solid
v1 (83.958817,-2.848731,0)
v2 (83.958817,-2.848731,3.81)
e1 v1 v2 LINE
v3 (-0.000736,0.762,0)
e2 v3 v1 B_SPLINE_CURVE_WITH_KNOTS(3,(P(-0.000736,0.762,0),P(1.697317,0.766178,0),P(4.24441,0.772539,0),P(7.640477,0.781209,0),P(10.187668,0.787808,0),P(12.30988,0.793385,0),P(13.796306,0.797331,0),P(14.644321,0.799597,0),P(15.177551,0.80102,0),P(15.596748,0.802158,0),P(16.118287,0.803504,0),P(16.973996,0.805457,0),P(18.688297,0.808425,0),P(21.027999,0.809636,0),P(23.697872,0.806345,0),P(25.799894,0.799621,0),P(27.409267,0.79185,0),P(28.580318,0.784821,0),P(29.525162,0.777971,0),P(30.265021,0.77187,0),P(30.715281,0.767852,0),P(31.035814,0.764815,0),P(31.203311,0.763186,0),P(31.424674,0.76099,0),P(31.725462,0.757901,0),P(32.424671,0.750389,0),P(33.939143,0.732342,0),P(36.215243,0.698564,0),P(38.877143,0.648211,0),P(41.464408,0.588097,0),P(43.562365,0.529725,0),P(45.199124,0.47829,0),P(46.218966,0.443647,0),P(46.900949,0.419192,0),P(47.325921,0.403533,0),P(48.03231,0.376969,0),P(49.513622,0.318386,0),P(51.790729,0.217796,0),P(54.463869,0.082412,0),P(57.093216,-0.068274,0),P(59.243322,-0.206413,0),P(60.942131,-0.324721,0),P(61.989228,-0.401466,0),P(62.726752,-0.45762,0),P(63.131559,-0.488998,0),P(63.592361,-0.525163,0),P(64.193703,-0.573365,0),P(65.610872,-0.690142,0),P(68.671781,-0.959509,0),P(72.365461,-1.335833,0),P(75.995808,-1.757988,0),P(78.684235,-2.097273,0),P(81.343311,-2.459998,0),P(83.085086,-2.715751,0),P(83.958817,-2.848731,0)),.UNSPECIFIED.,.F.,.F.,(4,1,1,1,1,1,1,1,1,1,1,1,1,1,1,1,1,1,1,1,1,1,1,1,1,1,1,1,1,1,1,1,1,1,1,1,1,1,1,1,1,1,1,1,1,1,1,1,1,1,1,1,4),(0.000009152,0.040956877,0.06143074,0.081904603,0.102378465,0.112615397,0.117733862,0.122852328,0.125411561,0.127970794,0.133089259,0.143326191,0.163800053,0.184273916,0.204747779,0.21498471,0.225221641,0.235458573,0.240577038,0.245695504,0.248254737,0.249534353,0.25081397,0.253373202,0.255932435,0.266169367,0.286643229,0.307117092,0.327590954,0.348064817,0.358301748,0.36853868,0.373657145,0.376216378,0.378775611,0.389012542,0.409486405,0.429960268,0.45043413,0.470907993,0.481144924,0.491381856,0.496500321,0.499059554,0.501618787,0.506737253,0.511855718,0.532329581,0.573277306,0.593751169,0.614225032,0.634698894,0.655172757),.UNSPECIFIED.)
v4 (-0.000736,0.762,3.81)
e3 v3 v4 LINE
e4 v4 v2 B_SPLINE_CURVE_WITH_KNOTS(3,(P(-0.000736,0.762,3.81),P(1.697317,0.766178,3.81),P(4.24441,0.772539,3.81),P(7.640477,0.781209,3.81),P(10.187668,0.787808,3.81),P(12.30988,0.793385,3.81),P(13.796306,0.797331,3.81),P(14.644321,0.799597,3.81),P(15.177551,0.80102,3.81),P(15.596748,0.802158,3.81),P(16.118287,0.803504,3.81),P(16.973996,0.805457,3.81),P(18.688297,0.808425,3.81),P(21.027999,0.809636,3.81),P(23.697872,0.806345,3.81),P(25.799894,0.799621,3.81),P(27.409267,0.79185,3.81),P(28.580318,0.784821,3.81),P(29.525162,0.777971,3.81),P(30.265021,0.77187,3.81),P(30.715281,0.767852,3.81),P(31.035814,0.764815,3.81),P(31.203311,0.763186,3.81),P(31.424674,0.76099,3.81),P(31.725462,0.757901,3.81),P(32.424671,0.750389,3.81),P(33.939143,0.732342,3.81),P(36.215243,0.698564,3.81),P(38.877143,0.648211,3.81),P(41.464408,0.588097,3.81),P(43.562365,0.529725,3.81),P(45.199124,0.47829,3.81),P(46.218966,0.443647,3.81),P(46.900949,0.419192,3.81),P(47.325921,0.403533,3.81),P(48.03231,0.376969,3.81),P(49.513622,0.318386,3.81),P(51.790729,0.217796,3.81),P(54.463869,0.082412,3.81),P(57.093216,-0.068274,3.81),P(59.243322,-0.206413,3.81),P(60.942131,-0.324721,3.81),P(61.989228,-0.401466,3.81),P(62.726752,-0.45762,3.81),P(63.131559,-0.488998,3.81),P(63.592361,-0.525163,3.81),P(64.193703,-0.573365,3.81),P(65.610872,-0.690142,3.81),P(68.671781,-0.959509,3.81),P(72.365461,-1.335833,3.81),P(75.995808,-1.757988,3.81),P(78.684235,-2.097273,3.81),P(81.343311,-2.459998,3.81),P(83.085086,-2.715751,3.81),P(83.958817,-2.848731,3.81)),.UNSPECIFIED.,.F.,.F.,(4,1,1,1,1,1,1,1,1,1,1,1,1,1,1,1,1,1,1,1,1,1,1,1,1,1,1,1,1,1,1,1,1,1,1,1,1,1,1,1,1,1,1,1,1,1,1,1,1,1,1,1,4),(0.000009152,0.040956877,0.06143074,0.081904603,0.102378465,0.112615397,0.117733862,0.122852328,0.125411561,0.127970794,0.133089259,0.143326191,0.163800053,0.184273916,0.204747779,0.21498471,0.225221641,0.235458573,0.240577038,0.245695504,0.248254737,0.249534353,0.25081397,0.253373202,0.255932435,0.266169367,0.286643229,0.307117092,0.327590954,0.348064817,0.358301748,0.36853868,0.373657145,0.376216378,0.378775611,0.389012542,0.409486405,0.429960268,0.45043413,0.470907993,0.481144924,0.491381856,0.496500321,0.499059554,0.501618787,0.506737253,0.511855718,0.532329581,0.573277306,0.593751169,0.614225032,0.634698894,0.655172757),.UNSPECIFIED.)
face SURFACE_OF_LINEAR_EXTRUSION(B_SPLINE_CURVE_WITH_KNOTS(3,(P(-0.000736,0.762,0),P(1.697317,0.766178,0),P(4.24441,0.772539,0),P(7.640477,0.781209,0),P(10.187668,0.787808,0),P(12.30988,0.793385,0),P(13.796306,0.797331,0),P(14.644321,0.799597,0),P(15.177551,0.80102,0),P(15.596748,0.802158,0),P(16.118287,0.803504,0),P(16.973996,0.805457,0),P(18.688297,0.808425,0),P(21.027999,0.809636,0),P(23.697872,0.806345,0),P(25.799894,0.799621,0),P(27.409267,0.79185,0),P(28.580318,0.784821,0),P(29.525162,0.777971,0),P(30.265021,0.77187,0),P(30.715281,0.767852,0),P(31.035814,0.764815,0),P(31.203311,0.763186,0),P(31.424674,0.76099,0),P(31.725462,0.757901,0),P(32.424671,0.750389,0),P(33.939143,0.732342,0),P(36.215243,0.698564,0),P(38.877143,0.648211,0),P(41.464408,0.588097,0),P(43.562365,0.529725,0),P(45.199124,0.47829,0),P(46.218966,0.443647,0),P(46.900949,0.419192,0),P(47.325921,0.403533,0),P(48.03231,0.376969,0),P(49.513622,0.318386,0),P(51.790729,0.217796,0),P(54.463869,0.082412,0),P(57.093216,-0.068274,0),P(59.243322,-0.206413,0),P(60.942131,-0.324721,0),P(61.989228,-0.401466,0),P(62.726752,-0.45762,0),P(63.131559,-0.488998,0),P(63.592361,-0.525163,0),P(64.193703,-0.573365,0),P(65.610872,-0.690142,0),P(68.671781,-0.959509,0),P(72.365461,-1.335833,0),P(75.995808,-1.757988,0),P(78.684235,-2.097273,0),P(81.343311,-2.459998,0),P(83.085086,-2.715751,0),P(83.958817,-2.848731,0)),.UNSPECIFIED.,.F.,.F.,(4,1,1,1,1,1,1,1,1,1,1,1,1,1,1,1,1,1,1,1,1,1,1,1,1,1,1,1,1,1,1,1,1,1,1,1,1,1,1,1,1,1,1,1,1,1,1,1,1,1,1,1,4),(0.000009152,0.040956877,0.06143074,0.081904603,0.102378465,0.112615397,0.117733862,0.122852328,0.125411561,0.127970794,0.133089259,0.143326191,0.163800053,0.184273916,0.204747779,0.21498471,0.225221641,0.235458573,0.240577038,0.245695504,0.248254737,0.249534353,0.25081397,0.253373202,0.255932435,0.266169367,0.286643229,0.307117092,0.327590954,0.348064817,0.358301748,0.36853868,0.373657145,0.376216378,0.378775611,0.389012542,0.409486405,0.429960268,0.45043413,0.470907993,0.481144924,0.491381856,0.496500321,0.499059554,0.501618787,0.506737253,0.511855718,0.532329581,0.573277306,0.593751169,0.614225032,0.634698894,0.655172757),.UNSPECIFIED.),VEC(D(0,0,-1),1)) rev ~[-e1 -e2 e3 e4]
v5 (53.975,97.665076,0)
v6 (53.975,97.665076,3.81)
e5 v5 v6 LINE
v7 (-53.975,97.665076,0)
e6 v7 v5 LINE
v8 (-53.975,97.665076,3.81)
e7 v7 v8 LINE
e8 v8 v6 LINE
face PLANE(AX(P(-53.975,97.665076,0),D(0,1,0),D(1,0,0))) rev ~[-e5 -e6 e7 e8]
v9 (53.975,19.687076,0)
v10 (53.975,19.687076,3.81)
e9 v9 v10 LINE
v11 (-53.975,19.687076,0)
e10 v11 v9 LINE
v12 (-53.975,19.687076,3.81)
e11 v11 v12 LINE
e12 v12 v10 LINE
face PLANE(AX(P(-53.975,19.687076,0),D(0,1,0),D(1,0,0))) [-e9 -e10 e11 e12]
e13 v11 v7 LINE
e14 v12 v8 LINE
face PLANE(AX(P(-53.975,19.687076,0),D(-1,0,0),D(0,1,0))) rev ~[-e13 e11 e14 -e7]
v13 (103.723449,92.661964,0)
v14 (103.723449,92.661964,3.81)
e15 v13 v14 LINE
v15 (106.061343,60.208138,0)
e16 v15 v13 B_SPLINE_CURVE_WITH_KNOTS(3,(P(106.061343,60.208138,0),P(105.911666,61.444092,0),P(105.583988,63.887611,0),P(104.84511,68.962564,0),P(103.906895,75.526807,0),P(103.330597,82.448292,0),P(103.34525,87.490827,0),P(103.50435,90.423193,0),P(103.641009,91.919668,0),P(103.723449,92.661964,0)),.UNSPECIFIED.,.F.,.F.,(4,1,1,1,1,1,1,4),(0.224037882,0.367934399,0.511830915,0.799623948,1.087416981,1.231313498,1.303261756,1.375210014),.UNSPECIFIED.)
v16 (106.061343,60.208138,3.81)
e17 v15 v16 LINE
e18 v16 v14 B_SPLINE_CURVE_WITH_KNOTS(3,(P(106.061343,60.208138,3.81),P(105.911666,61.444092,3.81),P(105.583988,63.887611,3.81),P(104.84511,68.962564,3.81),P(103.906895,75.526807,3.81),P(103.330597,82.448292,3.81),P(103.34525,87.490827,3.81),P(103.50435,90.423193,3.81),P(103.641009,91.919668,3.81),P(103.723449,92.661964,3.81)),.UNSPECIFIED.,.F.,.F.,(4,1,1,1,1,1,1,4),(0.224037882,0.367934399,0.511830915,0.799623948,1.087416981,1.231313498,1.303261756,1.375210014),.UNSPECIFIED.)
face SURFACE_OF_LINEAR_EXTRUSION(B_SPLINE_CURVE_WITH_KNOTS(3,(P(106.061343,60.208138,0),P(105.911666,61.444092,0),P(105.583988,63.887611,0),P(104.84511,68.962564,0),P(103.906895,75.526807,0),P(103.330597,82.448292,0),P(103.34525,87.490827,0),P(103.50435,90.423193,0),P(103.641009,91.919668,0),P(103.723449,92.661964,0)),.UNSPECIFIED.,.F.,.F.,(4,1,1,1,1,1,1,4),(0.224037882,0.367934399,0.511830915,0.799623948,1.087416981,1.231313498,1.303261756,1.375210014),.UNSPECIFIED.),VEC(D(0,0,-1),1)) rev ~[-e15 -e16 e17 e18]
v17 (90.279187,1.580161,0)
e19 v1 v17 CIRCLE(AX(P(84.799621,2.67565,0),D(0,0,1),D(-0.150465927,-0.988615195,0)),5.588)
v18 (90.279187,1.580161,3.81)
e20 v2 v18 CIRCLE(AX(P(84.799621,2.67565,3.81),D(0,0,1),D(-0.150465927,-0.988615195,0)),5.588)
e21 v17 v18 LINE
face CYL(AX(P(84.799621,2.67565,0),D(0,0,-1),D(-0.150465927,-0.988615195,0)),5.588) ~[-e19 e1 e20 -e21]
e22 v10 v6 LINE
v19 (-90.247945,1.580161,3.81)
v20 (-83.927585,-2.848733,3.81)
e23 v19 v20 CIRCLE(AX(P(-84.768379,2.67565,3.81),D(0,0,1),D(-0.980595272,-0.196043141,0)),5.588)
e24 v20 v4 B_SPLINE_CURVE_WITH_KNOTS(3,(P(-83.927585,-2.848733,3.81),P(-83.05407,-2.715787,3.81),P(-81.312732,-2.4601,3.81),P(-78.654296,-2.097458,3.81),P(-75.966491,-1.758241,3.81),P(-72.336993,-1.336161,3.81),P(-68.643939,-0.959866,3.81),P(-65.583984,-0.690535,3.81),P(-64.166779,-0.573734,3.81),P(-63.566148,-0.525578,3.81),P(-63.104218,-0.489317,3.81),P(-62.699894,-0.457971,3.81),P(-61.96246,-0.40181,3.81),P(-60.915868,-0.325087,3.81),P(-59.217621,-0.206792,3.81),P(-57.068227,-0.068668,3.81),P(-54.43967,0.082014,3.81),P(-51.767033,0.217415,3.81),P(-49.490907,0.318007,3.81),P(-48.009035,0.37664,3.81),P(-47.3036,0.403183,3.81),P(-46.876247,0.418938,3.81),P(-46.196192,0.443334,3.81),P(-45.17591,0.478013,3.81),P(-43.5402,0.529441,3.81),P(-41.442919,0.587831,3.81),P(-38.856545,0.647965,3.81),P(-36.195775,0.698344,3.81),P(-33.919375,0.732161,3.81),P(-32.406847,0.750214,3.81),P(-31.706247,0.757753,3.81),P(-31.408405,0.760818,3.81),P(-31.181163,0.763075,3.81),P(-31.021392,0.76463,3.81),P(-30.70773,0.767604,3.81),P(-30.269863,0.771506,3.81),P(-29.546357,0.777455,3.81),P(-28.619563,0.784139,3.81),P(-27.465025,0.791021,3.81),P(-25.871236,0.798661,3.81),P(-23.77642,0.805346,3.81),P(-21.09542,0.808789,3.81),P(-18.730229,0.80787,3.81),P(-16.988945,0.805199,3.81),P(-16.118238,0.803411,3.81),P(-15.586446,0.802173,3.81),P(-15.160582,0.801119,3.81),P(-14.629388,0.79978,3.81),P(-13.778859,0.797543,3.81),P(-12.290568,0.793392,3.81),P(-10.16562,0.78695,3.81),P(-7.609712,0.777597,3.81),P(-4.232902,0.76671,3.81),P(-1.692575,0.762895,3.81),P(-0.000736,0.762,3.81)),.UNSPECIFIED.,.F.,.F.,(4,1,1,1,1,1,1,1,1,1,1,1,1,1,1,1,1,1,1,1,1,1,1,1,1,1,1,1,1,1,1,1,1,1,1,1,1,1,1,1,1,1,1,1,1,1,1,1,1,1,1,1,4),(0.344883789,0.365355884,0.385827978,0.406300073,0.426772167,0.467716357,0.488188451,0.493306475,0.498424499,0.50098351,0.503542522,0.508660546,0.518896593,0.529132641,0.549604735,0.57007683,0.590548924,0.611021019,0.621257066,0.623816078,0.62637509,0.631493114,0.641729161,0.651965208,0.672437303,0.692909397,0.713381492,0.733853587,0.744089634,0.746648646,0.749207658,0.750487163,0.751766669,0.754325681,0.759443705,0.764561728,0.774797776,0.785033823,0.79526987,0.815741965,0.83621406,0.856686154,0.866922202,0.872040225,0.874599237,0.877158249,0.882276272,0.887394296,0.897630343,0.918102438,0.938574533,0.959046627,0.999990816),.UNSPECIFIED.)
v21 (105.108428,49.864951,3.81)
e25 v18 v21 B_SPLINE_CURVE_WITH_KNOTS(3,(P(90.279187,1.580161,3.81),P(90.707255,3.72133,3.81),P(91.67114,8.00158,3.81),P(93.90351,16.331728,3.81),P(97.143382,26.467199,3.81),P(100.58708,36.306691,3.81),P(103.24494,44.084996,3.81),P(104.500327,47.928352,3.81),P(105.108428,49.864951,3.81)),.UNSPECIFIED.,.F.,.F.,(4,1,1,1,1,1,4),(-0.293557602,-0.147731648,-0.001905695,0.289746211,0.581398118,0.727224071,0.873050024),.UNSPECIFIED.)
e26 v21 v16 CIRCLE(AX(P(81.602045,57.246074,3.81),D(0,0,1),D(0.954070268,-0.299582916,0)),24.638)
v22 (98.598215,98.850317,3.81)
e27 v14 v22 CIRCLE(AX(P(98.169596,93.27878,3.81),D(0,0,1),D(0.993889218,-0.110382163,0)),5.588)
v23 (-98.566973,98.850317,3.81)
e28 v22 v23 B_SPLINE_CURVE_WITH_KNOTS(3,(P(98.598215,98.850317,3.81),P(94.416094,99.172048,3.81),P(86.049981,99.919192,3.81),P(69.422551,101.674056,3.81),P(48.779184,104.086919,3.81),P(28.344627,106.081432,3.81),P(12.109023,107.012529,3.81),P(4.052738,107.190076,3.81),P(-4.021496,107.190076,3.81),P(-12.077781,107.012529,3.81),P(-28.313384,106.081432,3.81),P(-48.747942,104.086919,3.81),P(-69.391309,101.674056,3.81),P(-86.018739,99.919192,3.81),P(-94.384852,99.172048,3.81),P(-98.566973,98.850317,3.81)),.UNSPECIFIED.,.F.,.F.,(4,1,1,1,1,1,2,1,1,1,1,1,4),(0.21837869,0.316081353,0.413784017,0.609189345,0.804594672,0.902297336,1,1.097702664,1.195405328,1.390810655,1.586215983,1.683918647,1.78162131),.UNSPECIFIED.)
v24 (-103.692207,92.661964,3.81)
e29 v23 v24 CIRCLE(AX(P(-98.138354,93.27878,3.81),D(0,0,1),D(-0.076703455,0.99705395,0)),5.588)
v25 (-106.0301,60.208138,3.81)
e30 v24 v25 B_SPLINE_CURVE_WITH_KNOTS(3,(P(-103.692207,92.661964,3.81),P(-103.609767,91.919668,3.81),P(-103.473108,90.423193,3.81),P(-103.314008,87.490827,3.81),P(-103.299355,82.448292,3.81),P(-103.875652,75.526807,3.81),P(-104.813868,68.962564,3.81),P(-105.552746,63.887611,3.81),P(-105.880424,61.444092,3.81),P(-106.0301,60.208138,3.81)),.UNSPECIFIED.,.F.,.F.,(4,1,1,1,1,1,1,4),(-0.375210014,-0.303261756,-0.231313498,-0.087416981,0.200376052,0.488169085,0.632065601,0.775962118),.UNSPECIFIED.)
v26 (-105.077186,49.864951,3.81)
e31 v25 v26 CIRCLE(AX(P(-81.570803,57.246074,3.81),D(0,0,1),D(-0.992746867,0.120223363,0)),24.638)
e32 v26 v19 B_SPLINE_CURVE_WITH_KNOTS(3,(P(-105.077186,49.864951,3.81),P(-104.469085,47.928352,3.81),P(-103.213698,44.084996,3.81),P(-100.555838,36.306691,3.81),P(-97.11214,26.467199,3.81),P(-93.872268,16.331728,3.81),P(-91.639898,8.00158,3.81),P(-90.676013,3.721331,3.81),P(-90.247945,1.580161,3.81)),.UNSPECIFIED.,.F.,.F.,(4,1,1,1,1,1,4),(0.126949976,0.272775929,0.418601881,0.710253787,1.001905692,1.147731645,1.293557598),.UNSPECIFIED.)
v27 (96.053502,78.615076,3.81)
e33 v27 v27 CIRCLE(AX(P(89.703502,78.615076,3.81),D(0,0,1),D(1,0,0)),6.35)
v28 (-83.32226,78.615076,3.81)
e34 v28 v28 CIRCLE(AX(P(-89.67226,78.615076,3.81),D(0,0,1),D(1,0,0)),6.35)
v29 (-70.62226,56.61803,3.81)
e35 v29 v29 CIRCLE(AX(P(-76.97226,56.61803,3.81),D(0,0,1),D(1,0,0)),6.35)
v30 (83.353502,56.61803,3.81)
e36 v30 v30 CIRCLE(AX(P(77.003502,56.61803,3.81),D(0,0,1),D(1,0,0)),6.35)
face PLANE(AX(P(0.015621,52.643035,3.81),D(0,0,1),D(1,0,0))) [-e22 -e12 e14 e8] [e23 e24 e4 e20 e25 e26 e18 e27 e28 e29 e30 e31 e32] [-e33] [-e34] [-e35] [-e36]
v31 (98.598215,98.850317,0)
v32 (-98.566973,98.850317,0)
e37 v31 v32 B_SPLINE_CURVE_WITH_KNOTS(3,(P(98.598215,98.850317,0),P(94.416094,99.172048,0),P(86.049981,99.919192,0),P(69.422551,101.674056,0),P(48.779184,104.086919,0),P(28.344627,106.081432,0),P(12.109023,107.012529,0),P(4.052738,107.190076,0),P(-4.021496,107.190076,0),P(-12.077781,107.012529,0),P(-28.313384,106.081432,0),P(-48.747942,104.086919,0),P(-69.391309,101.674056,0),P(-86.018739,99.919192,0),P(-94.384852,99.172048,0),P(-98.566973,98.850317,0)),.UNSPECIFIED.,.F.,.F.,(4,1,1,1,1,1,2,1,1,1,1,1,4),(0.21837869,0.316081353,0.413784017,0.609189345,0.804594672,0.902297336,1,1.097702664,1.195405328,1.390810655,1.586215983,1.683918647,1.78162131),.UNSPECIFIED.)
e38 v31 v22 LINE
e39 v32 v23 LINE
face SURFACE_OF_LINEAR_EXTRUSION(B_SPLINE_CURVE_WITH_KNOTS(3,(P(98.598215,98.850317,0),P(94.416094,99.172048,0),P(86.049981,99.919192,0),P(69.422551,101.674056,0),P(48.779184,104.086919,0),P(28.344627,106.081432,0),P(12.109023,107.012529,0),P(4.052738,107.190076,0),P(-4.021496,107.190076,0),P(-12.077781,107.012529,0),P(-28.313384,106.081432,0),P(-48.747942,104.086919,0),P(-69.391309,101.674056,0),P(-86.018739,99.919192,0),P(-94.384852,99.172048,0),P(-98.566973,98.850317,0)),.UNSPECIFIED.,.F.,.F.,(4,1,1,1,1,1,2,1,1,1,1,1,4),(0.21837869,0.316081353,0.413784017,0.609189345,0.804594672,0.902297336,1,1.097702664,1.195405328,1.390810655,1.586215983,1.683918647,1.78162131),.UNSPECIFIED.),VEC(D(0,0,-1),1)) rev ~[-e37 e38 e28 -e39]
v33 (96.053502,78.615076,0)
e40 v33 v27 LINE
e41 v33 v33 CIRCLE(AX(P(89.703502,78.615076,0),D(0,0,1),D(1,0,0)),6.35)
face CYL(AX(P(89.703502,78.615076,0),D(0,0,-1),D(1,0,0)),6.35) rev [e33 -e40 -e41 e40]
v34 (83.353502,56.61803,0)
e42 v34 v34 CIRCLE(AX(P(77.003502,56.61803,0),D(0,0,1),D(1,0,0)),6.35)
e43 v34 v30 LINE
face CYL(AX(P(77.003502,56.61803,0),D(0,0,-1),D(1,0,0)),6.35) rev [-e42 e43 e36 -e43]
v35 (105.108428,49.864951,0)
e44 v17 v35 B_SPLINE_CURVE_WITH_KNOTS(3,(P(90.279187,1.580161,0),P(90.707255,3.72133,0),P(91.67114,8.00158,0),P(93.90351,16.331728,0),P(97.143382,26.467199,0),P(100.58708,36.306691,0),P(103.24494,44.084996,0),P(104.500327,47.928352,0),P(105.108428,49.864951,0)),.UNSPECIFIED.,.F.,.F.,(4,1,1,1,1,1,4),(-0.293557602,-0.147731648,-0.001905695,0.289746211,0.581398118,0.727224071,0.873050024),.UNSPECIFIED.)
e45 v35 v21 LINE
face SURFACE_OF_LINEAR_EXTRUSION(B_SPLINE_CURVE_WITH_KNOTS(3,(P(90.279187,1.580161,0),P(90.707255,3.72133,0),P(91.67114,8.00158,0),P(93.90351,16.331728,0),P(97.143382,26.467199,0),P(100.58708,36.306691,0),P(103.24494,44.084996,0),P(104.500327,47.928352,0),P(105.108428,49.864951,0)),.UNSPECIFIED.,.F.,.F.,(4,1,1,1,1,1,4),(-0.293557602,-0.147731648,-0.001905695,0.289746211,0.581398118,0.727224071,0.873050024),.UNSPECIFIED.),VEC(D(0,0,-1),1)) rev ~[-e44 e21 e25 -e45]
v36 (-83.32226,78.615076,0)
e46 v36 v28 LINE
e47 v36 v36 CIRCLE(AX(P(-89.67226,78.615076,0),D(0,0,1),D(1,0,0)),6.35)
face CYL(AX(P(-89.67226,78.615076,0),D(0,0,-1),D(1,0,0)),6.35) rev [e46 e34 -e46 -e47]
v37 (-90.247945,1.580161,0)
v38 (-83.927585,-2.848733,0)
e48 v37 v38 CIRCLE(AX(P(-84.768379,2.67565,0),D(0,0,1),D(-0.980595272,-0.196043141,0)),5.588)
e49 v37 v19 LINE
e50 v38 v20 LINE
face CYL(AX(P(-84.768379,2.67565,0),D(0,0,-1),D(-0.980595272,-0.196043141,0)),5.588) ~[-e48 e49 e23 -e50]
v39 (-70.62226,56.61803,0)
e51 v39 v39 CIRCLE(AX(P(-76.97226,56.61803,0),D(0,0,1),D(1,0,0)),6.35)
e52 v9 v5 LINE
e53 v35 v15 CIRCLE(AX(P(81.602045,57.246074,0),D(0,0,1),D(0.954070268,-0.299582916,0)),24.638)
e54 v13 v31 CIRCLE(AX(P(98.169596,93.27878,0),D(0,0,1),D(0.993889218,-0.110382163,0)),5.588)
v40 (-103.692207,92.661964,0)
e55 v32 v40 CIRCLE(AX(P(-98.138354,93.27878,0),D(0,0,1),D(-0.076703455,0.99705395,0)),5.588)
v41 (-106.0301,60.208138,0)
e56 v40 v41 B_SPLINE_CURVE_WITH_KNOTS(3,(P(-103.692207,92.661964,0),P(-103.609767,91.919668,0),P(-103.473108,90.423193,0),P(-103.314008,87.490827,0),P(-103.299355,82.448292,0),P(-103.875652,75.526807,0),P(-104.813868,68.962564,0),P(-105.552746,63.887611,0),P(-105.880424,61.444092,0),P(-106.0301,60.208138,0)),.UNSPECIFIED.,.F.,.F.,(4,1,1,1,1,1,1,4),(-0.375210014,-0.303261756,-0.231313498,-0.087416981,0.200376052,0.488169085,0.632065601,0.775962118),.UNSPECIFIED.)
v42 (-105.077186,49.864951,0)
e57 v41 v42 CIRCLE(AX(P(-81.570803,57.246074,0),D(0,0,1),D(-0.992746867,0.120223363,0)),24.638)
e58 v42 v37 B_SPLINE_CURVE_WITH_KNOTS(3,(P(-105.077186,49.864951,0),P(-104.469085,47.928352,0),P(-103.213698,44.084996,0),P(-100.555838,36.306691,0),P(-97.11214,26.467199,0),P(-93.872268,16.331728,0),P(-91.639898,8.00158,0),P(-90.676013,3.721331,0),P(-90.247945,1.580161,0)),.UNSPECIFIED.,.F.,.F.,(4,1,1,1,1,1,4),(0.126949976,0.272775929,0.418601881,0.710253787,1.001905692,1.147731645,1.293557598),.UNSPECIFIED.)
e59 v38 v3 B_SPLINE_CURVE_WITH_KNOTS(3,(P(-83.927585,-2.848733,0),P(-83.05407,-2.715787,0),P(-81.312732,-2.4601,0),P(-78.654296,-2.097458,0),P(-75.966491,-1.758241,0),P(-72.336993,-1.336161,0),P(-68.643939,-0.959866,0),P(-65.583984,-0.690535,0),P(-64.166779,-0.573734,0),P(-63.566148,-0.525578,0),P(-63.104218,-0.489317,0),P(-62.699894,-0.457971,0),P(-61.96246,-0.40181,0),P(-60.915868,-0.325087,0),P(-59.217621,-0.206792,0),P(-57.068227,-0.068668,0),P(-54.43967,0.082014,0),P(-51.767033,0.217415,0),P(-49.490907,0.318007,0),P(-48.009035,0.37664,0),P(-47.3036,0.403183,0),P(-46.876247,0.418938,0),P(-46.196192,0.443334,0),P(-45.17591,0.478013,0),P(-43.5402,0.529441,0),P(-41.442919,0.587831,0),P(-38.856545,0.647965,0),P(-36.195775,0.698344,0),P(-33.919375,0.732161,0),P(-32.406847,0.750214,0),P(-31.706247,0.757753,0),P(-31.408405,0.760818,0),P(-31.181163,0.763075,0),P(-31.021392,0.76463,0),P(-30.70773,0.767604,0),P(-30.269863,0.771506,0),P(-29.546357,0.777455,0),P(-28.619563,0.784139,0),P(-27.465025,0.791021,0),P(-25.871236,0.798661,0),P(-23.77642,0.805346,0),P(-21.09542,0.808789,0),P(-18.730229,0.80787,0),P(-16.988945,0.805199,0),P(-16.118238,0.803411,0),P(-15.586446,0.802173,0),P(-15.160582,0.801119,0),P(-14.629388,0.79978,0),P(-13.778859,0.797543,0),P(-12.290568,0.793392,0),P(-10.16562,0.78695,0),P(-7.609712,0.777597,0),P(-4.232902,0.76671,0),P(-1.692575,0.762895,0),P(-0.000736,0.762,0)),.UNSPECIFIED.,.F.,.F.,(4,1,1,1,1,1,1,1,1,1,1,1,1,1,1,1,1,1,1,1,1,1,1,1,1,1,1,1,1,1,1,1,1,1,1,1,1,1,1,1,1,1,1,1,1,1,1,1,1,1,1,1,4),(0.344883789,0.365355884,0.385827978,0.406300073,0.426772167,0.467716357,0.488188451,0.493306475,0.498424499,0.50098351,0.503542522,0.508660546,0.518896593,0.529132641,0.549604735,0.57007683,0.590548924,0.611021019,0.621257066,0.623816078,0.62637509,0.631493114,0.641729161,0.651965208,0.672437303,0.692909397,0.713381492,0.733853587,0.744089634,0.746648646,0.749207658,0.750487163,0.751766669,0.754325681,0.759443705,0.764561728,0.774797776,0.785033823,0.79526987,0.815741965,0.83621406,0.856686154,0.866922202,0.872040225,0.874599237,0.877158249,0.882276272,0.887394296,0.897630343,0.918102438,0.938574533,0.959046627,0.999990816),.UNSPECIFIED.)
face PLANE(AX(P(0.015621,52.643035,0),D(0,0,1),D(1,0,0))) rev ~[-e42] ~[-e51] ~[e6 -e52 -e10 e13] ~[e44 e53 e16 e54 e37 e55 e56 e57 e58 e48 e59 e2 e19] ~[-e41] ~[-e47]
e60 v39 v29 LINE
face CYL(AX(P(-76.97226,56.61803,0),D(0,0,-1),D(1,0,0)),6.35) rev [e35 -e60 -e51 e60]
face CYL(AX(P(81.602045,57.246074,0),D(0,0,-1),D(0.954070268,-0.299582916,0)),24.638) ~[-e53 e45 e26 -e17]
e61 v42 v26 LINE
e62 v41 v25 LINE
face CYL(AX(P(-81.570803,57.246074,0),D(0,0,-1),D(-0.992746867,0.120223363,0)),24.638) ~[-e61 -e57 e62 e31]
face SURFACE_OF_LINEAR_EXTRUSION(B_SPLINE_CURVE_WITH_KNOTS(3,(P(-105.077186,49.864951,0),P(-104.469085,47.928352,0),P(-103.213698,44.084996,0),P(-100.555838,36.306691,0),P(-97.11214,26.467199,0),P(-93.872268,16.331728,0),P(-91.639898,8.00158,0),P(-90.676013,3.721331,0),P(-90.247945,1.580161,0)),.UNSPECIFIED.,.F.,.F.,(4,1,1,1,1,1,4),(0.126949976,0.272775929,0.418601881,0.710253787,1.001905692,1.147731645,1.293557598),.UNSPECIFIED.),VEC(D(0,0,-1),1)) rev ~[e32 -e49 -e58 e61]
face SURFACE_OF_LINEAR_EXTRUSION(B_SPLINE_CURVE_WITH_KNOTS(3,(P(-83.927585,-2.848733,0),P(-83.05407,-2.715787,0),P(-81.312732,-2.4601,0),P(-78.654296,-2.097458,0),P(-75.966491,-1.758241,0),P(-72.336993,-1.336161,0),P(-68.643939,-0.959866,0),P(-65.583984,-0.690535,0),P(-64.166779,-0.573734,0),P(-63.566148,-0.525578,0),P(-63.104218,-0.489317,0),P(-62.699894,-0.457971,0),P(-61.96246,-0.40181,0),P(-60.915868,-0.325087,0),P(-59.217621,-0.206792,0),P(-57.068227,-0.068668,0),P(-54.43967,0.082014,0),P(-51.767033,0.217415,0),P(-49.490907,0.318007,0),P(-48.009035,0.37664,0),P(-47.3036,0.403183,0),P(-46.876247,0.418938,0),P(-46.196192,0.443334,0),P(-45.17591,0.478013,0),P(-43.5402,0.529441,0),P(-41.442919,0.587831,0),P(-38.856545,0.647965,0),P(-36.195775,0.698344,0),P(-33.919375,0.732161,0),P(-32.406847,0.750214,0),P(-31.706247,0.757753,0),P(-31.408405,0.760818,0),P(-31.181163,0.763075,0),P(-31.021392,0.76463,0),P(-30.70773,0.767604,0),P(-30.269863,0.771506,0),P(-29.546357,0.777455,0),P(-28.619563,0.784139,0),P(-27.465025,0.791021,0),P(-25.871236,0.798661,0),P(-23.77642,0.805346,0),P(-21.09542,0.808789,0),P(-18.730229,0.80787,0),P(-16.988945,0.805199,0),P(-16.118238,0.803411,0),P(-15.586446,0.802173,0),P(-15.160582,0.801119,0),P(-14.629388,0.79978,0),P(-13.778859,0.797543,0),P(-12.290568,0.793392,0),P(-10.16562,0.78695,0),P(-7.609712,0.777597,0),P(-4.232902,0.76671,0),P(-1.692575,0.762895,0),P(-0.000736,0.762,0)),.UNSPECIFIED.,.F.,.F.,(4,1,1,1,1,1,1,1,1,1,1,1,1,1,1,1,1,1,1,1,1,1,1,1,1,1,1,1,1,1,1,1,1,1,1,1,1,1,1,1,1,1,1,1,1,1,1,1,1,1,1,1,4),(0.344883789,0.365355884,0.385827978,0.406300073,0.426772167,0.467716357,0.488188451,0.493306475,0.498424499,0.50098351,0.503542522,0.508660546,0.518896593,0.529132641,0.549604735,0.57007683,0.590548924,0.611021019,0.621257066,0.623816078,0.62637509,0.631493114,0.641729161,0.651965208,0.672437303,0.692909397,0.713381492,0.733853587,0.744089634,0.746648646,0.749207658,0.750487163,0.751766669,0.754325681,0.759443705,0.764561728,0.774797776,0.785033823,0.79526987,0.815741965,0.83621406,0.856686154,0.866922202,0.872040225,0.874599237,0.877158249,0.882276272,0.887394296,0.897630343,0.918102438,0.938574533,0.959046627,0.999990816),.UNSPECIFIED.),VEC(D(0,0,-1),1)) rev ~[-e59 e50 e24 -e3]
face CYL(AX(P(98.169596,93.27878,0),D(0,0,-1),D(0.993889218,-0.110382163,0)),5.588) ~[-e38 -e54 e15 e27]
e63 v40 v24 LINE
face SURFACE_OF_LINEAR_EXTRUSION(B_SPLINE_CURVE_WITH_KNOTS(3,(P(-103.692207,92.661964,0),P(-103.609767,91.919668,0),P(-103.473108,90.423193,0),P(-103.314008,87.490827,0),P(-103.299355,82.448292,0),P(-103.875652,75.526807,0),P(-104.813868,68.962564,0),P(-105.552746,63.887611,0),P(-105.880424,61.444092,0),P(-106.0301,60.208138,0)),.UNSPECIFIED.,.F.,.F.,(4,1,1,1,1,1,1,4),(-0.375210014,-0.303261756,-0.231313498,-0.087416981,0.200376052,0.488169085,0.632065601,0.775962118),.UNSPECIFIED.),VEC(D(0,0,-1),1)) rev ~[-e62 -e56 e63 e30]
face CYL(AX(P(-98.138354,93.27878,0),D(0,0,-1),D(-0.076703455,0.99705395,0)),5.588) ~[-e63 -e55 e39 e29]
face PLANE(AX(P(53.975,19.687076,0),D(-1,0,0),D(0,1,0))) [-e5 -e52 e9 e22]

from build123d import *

# Parameters (mm, degrees)
SKETCH1_R           = 6.35
SKETCH1_W           = 107.95
SKETCH1_H           = 77.978
BOSS_EXTRUDE1_DEPTH = 3.81


with BuildPart() as part:
    # Sketch1 → Boss-Extrude1 (new body)
    with BuildSketch(Plane.XY):
        with BuildLine():
            ThreePointArc((-90.247945126, 1.580161299), (-87.975141882, -1.900637883), (-83.927585414, -2.848732901))
            add(Edge.make_bspline(
                [(-83.927585414, -2.848732901), (-83.054070471, -2.715786742), (-81.312732205, -2.460099658), (-78.654295906, -2.097457818), (-75.966491195, -1.758240891), (-72.336992818, -1.336160635), (-68.643939449, -0.959865866), (-65.583983691, -0.690535221), (-64.166779255, -0.573734085), (-63.566148315, -0.525577724), (-63.104217983, -0.489316665), (-62.699894104, -0.457970525), (-61.962459601, -0.401810292), (-60.915867879, -0.325087188), (-59.217621249, -0.20679221), (-57.068227268, -0.068668175), (-54.439670256, 0.082013873), (-51.767032951, 0.217415022), (-49.490906759, 0.318006821), (-48.009034739, 0.376639561), (-47.303600356, 0.403182815), (-46.87624745, 0.418937653), (-46.196192411, 0.443333549), (-45.175910497, 0.47801298), (-43.54019985, 0.529440772), (-41.442918551, 0.587830962), (-38.856544752, 0.647964805), (-36.195775126, 0.698343729), (-33.919375463, 0.73216057), (-32.406847373, 0.750213929), (-31.706246722, 0.757752509), (-31.408404648, 0.760817662), (-31.181163199, 0.763075054), (-31.021391801, 0.764629932), (-30.707730066, 0.767603553), (-30.26986268, 0.771505625), (-29.546357408, 0.777455403), (-28.619562792, 0.78413893), (-27.465024779, 0.791021083), (-25.871235622, 0.798660769), (-23.776420321, 0.805345875), (-21.095419523, 0.808788849), (-18.730229007, 0.807870354), (-16.988945077, 0.805198844), (-16.118237596, 0.803410927), (-15.586446283, 0.802172614), (-15.160582097, 0.801119107), (-14.629388092, 0.799779587), (-13.778859371, 0.797542602), (-12.290567631, 0.793391761), (-10.165619586, 0.786950406), (-7.609712384, 0.777596832), (-4.232901772, 0.76670962), (-1.692574695, 0.762894866), (-0.000735939, 0.762000495)],
                knots=[0.344883789, 0.344883789, 0.344883789, 0.344883789, 0.365355884, 0.385827978, 0.406300073, 0.426772167, 0.467716357, 0.488188451, 0.493306475, 0.498424499, 0.50098351, 0.503542522, 0.508660546, 0.518896593, 0.529132641, 0.549604735, 0.57007683, 0.590548924, 0.611021019, 0.621257066, 0.623816078, 0.62637509, 0.631493114, 0.641729161, 0.651965208, 0.672437303, 0.692909397, 0.713381492, 0.733853587, 0.744089634, 0.746648646, 0.749207658, 0.750487163, 0.751766669, 0.754325681, 0.759443705, 0.764561728, 0.774797776, 0.785033823, 0.79526987, 0.815741965, 0.83621406, 0.856686154, 0.866922202, 0.872040225, 0.874599237, 0.877158249, 0.882276272, 0.887394296, 0.897630343, 0.918102438, 0.938574533, 0.959046627, 0.999990816, 0.999990816, 0.999990816, 0.999990816], degree=3))
            add(Edge.make_bspline(
                [(-0.000735939, 0.762000495), (1.697316836, 0.766177734), (4.244409913, 0.77253852), (7.640476943, 0.781209392), (10.187668405, 0.787807526), (12.309879884, 0.793384892), (13.796306461, 0.797330932), (14.644321151, 0.799597123), (15.177550854, 0.80101974), (15.596748301, 0.802157809), (16.118287, 0.803504136), (16.973995966, 0.80545727), (18.68829658, 0.808424504), (21.027999055, 0.809635512), (23.697872289, 0.806345409), (25.799893716, 0.79962074), (27.409267347, 0.791849991), (28.580317931, 0.784820707), (29.525162279, 0.777971464), (30.265021199, 0.771870135), (30.715280941, 0.767851736), (31.035813921, 0.764814821), (31.203310927, 0.763185732), (31.424674383, 0.760990419), (31.725461502, 0.75790149), (32.424670998, 0.75038892), (33.939142843, 0.732342076), (36.215243056, 0.698563653), (38.877142881, 0.648210549), (41.464408025, 0.588096862), (43.562364845, 0.52972496), (45.199123553, 0.478290291), (46.218966314, 0.443646588), (46.900949422, 0.419191941), (47.325920748, 0.403533269), (48.032310107, 0.376969373), (49.513622078, 0.318385817), (51.790729101, 0.217796458), (54.463869347, 0.082412308), (57.093216384, -0.068273652), (59.243322334, -0.206412508), (60.942131401, -0.324720902), (61.989228303, -0.401465522), (62.726751965, -0.457620494), (63.131559362, -0.488998275), (63.592361081, -0.52516306), (64.193703385, -0.573365144), (65.61087209, -0.690141767), (68.671780552, -0.959508913), (72.365460908, -1.33583339), (75.995808252, -1.757987944), (78.68423516, -2.097273121), (81.343310776, -2.459998054), (83.085085672, -2.715750704), (83.958817154, -2.848731481)],
                knots=[9.152e-06, 9.152e-06, 9.152e-06, 9.152e-06, 0.040956877, 0.06143074, 0.081904603, 0.102378465, 0.112615397, 0.117733862, 0.122852328, 0.125411561, 0.127970794, 0.133089259, 0.143326191, 0.163800053, 0.184273916, 0.204747779, 0.21498471, 0.225221641, 0.235458573, 0.240577038, 0.245695504, 0.248254737, 0.249534353, 0.25081397, 0.253373202, 0.255932435, 0.266169367, 0.286643229, 0.307117092, 0.327590954, 0.348064817, 0.358301748, 0.36853868, 0.373657145, 0.376216378, 0.378775611, 0.389012542, 0.409486405, 0.429960268, 0.45043413, 0.470907993, 0.481144924, 0.491381856, 0.496500321, 0.499059554, 0.501618787, 0.506737253, 0.511855718, 0.532329581, 0.573277306, 0.593751169, 0.614225032, 0.634698894, 0.655172757, 0.655172757, 0.655172757, 0.655172757], degree=3))
            ThreePointArc((83.958817154, -2.848731481), (88.006379638, -1.900641004), (90.279187133, 1.58016116))
            add(Edge.make_bspline(
                [(90.279187133, 1.58016116), (90.707255223, 3.721330409), (91.671139987, 8.001579794), (93.903510476, 16.331728227), (97.14338237, 26.467199173), (100.58708015, 36.306691054), (103.244940111, 44.084996329), (104.500326759, 47.928352327), (105.108428455, 49.864950567)],
                knots=[-0.293557602, -0.293557602, -0.293557602, -0.293557602, -0.147731648, -0.001905695, 0.289746211, 0.581398118, 0.727224071, 0.873050024, 0.873050024, 0.873050024, 0.873050024], degree=3))
            ThreePointArc((105.108428455, 49.864950567), (106.136144084, 54.985756874), (106.061342514, 60.208137689))
            add(Edge.make_bspline(
                [(106.061342514, 60.208137689), (105.911666294, 61.444092118), (105.583988035, 63.887611007), (104.845109607, 68.962564326), (103.906894516, 75.52680744), (103.330597064, 82.448292199), (103.345249689, 87.49082735), (103.504349867, 90.423192606), (103.641008775, 91.919668099), (103.72344879, 92.661964135)],
                knots=[0.224037882, 0.224037882, 0.224037882, 0.224037882, 0.367934399, 0.511830915, 0.799623948, 1.087416981, 1.231313498, 1.303261756, 1.375210014, 1.375210014, 1.375210014, 1.375210014], degree=3))
            ThreePointArc((103.72344879, 92.661964135), (102.473247846, 96.843092134), (98.598214744, 98.850317136))
            add(Edge.make_bspline(
                [(98.598214744, 98.850317136), (94.416094473, 99.172048045), (86.049981349, 99.919191974), (69.422551197, 101.674055975), (48.779184165, 104.086919071), (28.344626534, 106.081432238), (12.109022695, 107.012529299), (4.052738444, 107.190075663), (0.015621033, 107.190075663)],
                knots=[0.21837869, 0.21837869, 0.21837869, 0.21837869, 0.316081353, 0.413784017, 0.609189345, 0.804594672, 0.902297336, 1, 1, 1, 1], degree=3))
            add(Edge.make_bspline(
                [(0.015621033, 107.190075663), (-4.021496378, 107.190075663), (-12.077780629, 107.012529299), (-28.313384468, 106.081432237), (-48.747942099, 104.08691907), (-69.39130913, 101.674055973), (-86.018739283, 99.919191972), (-94.384852407, 99.172048042), (-98.566972677, 98.850317134)],
                knots=[0, 0, 0, 0, 0.097702664, 0.195405328, 0.390810655, 0.586215983, 0.683918647, 0.78162131, 0.78162131, 0.78162131, 0.78162131], degree=3))
            ThreePointArc((-98.566972677, 98.850317134), (-102.442005779, 96.843092132), (-103.692206724, 92.661964133))
            add(Edge.make_bspline(
                [(-103.692206724, 92.661964133), (-103.609766709, 91.919668097), (-103.4731078, 90.423192604), (-103.314007622, 87.490827347), (-103.299354998, 82.448292195), (-103.875652451, 75.526807436), (-104.813867543, 68.962564321), (-105.552745972, 63.887611001), (-105.880424231, 61.444092112), (-106.030100451, 60.208137683)],
                knots=[-0.375210014, -0.375210014, -0.375210014, -0.375210014, -0.303261756, -0.231313498, -0.087416981, 0.200376052, 0.488169085, 0.632065601, 0.775962118, 0.775962118, 0.775962118, 0.775962118], degree=3))
            ThreePointArc((-106.030100451, 60.208137683), (-106.104902022, 54.985756873), (-105.077186396, 49.864950571))
            add(Edge.make_bspline(
                [(-105.077186396, 49.864950571), (-104.469084703, 47.928352336), (-103.213698061, 44.084996348), (-100.555838111, 36.306691093), (-97.112140347, 26.467199238), (-93.872268464, 16.33172832), (-91.63989798, 8.001579913), (-90.676013216, 3.721330541), (-90.247945126, 1.580161299)],
                knots=[0.126949976, 0.126949976, 0.126949976, 0.126949976, 0.272775929, 0.418601881, 0.710253787, 1.001905692, 1.147731645, 1.293557598, 1.293557598, 1.293557598, 1.293557598], degree=3))
        make_face()
        with Locations((-89.672260323, 78.615075663)):
            Circle(SKETCH1_R, mode=Mode.SUBTRACT)
        with Locations((89.703502388, 78.615075663)):
            Circle(SKETCH1_R, mode=Mode.SUBTRACT)
        with Locations((-76.972260323, 56.618030407)):
            Circle(SKETCH1_R, mode=Mode.SUBTRACT)
        with Locations((77.003502388, 56.618030407)):
            Circle(SKETCH1_R, mode=Mode.SUBTRACT)
        with Locations((0, 58.676075663)):
            Rectangle(SKETCH1_W, SKETCH1_H, mode=Mode.SUBTRACT)
    extrude(amount=BOSS_EXTRUDE1_DEPTH)


solid = part.part
